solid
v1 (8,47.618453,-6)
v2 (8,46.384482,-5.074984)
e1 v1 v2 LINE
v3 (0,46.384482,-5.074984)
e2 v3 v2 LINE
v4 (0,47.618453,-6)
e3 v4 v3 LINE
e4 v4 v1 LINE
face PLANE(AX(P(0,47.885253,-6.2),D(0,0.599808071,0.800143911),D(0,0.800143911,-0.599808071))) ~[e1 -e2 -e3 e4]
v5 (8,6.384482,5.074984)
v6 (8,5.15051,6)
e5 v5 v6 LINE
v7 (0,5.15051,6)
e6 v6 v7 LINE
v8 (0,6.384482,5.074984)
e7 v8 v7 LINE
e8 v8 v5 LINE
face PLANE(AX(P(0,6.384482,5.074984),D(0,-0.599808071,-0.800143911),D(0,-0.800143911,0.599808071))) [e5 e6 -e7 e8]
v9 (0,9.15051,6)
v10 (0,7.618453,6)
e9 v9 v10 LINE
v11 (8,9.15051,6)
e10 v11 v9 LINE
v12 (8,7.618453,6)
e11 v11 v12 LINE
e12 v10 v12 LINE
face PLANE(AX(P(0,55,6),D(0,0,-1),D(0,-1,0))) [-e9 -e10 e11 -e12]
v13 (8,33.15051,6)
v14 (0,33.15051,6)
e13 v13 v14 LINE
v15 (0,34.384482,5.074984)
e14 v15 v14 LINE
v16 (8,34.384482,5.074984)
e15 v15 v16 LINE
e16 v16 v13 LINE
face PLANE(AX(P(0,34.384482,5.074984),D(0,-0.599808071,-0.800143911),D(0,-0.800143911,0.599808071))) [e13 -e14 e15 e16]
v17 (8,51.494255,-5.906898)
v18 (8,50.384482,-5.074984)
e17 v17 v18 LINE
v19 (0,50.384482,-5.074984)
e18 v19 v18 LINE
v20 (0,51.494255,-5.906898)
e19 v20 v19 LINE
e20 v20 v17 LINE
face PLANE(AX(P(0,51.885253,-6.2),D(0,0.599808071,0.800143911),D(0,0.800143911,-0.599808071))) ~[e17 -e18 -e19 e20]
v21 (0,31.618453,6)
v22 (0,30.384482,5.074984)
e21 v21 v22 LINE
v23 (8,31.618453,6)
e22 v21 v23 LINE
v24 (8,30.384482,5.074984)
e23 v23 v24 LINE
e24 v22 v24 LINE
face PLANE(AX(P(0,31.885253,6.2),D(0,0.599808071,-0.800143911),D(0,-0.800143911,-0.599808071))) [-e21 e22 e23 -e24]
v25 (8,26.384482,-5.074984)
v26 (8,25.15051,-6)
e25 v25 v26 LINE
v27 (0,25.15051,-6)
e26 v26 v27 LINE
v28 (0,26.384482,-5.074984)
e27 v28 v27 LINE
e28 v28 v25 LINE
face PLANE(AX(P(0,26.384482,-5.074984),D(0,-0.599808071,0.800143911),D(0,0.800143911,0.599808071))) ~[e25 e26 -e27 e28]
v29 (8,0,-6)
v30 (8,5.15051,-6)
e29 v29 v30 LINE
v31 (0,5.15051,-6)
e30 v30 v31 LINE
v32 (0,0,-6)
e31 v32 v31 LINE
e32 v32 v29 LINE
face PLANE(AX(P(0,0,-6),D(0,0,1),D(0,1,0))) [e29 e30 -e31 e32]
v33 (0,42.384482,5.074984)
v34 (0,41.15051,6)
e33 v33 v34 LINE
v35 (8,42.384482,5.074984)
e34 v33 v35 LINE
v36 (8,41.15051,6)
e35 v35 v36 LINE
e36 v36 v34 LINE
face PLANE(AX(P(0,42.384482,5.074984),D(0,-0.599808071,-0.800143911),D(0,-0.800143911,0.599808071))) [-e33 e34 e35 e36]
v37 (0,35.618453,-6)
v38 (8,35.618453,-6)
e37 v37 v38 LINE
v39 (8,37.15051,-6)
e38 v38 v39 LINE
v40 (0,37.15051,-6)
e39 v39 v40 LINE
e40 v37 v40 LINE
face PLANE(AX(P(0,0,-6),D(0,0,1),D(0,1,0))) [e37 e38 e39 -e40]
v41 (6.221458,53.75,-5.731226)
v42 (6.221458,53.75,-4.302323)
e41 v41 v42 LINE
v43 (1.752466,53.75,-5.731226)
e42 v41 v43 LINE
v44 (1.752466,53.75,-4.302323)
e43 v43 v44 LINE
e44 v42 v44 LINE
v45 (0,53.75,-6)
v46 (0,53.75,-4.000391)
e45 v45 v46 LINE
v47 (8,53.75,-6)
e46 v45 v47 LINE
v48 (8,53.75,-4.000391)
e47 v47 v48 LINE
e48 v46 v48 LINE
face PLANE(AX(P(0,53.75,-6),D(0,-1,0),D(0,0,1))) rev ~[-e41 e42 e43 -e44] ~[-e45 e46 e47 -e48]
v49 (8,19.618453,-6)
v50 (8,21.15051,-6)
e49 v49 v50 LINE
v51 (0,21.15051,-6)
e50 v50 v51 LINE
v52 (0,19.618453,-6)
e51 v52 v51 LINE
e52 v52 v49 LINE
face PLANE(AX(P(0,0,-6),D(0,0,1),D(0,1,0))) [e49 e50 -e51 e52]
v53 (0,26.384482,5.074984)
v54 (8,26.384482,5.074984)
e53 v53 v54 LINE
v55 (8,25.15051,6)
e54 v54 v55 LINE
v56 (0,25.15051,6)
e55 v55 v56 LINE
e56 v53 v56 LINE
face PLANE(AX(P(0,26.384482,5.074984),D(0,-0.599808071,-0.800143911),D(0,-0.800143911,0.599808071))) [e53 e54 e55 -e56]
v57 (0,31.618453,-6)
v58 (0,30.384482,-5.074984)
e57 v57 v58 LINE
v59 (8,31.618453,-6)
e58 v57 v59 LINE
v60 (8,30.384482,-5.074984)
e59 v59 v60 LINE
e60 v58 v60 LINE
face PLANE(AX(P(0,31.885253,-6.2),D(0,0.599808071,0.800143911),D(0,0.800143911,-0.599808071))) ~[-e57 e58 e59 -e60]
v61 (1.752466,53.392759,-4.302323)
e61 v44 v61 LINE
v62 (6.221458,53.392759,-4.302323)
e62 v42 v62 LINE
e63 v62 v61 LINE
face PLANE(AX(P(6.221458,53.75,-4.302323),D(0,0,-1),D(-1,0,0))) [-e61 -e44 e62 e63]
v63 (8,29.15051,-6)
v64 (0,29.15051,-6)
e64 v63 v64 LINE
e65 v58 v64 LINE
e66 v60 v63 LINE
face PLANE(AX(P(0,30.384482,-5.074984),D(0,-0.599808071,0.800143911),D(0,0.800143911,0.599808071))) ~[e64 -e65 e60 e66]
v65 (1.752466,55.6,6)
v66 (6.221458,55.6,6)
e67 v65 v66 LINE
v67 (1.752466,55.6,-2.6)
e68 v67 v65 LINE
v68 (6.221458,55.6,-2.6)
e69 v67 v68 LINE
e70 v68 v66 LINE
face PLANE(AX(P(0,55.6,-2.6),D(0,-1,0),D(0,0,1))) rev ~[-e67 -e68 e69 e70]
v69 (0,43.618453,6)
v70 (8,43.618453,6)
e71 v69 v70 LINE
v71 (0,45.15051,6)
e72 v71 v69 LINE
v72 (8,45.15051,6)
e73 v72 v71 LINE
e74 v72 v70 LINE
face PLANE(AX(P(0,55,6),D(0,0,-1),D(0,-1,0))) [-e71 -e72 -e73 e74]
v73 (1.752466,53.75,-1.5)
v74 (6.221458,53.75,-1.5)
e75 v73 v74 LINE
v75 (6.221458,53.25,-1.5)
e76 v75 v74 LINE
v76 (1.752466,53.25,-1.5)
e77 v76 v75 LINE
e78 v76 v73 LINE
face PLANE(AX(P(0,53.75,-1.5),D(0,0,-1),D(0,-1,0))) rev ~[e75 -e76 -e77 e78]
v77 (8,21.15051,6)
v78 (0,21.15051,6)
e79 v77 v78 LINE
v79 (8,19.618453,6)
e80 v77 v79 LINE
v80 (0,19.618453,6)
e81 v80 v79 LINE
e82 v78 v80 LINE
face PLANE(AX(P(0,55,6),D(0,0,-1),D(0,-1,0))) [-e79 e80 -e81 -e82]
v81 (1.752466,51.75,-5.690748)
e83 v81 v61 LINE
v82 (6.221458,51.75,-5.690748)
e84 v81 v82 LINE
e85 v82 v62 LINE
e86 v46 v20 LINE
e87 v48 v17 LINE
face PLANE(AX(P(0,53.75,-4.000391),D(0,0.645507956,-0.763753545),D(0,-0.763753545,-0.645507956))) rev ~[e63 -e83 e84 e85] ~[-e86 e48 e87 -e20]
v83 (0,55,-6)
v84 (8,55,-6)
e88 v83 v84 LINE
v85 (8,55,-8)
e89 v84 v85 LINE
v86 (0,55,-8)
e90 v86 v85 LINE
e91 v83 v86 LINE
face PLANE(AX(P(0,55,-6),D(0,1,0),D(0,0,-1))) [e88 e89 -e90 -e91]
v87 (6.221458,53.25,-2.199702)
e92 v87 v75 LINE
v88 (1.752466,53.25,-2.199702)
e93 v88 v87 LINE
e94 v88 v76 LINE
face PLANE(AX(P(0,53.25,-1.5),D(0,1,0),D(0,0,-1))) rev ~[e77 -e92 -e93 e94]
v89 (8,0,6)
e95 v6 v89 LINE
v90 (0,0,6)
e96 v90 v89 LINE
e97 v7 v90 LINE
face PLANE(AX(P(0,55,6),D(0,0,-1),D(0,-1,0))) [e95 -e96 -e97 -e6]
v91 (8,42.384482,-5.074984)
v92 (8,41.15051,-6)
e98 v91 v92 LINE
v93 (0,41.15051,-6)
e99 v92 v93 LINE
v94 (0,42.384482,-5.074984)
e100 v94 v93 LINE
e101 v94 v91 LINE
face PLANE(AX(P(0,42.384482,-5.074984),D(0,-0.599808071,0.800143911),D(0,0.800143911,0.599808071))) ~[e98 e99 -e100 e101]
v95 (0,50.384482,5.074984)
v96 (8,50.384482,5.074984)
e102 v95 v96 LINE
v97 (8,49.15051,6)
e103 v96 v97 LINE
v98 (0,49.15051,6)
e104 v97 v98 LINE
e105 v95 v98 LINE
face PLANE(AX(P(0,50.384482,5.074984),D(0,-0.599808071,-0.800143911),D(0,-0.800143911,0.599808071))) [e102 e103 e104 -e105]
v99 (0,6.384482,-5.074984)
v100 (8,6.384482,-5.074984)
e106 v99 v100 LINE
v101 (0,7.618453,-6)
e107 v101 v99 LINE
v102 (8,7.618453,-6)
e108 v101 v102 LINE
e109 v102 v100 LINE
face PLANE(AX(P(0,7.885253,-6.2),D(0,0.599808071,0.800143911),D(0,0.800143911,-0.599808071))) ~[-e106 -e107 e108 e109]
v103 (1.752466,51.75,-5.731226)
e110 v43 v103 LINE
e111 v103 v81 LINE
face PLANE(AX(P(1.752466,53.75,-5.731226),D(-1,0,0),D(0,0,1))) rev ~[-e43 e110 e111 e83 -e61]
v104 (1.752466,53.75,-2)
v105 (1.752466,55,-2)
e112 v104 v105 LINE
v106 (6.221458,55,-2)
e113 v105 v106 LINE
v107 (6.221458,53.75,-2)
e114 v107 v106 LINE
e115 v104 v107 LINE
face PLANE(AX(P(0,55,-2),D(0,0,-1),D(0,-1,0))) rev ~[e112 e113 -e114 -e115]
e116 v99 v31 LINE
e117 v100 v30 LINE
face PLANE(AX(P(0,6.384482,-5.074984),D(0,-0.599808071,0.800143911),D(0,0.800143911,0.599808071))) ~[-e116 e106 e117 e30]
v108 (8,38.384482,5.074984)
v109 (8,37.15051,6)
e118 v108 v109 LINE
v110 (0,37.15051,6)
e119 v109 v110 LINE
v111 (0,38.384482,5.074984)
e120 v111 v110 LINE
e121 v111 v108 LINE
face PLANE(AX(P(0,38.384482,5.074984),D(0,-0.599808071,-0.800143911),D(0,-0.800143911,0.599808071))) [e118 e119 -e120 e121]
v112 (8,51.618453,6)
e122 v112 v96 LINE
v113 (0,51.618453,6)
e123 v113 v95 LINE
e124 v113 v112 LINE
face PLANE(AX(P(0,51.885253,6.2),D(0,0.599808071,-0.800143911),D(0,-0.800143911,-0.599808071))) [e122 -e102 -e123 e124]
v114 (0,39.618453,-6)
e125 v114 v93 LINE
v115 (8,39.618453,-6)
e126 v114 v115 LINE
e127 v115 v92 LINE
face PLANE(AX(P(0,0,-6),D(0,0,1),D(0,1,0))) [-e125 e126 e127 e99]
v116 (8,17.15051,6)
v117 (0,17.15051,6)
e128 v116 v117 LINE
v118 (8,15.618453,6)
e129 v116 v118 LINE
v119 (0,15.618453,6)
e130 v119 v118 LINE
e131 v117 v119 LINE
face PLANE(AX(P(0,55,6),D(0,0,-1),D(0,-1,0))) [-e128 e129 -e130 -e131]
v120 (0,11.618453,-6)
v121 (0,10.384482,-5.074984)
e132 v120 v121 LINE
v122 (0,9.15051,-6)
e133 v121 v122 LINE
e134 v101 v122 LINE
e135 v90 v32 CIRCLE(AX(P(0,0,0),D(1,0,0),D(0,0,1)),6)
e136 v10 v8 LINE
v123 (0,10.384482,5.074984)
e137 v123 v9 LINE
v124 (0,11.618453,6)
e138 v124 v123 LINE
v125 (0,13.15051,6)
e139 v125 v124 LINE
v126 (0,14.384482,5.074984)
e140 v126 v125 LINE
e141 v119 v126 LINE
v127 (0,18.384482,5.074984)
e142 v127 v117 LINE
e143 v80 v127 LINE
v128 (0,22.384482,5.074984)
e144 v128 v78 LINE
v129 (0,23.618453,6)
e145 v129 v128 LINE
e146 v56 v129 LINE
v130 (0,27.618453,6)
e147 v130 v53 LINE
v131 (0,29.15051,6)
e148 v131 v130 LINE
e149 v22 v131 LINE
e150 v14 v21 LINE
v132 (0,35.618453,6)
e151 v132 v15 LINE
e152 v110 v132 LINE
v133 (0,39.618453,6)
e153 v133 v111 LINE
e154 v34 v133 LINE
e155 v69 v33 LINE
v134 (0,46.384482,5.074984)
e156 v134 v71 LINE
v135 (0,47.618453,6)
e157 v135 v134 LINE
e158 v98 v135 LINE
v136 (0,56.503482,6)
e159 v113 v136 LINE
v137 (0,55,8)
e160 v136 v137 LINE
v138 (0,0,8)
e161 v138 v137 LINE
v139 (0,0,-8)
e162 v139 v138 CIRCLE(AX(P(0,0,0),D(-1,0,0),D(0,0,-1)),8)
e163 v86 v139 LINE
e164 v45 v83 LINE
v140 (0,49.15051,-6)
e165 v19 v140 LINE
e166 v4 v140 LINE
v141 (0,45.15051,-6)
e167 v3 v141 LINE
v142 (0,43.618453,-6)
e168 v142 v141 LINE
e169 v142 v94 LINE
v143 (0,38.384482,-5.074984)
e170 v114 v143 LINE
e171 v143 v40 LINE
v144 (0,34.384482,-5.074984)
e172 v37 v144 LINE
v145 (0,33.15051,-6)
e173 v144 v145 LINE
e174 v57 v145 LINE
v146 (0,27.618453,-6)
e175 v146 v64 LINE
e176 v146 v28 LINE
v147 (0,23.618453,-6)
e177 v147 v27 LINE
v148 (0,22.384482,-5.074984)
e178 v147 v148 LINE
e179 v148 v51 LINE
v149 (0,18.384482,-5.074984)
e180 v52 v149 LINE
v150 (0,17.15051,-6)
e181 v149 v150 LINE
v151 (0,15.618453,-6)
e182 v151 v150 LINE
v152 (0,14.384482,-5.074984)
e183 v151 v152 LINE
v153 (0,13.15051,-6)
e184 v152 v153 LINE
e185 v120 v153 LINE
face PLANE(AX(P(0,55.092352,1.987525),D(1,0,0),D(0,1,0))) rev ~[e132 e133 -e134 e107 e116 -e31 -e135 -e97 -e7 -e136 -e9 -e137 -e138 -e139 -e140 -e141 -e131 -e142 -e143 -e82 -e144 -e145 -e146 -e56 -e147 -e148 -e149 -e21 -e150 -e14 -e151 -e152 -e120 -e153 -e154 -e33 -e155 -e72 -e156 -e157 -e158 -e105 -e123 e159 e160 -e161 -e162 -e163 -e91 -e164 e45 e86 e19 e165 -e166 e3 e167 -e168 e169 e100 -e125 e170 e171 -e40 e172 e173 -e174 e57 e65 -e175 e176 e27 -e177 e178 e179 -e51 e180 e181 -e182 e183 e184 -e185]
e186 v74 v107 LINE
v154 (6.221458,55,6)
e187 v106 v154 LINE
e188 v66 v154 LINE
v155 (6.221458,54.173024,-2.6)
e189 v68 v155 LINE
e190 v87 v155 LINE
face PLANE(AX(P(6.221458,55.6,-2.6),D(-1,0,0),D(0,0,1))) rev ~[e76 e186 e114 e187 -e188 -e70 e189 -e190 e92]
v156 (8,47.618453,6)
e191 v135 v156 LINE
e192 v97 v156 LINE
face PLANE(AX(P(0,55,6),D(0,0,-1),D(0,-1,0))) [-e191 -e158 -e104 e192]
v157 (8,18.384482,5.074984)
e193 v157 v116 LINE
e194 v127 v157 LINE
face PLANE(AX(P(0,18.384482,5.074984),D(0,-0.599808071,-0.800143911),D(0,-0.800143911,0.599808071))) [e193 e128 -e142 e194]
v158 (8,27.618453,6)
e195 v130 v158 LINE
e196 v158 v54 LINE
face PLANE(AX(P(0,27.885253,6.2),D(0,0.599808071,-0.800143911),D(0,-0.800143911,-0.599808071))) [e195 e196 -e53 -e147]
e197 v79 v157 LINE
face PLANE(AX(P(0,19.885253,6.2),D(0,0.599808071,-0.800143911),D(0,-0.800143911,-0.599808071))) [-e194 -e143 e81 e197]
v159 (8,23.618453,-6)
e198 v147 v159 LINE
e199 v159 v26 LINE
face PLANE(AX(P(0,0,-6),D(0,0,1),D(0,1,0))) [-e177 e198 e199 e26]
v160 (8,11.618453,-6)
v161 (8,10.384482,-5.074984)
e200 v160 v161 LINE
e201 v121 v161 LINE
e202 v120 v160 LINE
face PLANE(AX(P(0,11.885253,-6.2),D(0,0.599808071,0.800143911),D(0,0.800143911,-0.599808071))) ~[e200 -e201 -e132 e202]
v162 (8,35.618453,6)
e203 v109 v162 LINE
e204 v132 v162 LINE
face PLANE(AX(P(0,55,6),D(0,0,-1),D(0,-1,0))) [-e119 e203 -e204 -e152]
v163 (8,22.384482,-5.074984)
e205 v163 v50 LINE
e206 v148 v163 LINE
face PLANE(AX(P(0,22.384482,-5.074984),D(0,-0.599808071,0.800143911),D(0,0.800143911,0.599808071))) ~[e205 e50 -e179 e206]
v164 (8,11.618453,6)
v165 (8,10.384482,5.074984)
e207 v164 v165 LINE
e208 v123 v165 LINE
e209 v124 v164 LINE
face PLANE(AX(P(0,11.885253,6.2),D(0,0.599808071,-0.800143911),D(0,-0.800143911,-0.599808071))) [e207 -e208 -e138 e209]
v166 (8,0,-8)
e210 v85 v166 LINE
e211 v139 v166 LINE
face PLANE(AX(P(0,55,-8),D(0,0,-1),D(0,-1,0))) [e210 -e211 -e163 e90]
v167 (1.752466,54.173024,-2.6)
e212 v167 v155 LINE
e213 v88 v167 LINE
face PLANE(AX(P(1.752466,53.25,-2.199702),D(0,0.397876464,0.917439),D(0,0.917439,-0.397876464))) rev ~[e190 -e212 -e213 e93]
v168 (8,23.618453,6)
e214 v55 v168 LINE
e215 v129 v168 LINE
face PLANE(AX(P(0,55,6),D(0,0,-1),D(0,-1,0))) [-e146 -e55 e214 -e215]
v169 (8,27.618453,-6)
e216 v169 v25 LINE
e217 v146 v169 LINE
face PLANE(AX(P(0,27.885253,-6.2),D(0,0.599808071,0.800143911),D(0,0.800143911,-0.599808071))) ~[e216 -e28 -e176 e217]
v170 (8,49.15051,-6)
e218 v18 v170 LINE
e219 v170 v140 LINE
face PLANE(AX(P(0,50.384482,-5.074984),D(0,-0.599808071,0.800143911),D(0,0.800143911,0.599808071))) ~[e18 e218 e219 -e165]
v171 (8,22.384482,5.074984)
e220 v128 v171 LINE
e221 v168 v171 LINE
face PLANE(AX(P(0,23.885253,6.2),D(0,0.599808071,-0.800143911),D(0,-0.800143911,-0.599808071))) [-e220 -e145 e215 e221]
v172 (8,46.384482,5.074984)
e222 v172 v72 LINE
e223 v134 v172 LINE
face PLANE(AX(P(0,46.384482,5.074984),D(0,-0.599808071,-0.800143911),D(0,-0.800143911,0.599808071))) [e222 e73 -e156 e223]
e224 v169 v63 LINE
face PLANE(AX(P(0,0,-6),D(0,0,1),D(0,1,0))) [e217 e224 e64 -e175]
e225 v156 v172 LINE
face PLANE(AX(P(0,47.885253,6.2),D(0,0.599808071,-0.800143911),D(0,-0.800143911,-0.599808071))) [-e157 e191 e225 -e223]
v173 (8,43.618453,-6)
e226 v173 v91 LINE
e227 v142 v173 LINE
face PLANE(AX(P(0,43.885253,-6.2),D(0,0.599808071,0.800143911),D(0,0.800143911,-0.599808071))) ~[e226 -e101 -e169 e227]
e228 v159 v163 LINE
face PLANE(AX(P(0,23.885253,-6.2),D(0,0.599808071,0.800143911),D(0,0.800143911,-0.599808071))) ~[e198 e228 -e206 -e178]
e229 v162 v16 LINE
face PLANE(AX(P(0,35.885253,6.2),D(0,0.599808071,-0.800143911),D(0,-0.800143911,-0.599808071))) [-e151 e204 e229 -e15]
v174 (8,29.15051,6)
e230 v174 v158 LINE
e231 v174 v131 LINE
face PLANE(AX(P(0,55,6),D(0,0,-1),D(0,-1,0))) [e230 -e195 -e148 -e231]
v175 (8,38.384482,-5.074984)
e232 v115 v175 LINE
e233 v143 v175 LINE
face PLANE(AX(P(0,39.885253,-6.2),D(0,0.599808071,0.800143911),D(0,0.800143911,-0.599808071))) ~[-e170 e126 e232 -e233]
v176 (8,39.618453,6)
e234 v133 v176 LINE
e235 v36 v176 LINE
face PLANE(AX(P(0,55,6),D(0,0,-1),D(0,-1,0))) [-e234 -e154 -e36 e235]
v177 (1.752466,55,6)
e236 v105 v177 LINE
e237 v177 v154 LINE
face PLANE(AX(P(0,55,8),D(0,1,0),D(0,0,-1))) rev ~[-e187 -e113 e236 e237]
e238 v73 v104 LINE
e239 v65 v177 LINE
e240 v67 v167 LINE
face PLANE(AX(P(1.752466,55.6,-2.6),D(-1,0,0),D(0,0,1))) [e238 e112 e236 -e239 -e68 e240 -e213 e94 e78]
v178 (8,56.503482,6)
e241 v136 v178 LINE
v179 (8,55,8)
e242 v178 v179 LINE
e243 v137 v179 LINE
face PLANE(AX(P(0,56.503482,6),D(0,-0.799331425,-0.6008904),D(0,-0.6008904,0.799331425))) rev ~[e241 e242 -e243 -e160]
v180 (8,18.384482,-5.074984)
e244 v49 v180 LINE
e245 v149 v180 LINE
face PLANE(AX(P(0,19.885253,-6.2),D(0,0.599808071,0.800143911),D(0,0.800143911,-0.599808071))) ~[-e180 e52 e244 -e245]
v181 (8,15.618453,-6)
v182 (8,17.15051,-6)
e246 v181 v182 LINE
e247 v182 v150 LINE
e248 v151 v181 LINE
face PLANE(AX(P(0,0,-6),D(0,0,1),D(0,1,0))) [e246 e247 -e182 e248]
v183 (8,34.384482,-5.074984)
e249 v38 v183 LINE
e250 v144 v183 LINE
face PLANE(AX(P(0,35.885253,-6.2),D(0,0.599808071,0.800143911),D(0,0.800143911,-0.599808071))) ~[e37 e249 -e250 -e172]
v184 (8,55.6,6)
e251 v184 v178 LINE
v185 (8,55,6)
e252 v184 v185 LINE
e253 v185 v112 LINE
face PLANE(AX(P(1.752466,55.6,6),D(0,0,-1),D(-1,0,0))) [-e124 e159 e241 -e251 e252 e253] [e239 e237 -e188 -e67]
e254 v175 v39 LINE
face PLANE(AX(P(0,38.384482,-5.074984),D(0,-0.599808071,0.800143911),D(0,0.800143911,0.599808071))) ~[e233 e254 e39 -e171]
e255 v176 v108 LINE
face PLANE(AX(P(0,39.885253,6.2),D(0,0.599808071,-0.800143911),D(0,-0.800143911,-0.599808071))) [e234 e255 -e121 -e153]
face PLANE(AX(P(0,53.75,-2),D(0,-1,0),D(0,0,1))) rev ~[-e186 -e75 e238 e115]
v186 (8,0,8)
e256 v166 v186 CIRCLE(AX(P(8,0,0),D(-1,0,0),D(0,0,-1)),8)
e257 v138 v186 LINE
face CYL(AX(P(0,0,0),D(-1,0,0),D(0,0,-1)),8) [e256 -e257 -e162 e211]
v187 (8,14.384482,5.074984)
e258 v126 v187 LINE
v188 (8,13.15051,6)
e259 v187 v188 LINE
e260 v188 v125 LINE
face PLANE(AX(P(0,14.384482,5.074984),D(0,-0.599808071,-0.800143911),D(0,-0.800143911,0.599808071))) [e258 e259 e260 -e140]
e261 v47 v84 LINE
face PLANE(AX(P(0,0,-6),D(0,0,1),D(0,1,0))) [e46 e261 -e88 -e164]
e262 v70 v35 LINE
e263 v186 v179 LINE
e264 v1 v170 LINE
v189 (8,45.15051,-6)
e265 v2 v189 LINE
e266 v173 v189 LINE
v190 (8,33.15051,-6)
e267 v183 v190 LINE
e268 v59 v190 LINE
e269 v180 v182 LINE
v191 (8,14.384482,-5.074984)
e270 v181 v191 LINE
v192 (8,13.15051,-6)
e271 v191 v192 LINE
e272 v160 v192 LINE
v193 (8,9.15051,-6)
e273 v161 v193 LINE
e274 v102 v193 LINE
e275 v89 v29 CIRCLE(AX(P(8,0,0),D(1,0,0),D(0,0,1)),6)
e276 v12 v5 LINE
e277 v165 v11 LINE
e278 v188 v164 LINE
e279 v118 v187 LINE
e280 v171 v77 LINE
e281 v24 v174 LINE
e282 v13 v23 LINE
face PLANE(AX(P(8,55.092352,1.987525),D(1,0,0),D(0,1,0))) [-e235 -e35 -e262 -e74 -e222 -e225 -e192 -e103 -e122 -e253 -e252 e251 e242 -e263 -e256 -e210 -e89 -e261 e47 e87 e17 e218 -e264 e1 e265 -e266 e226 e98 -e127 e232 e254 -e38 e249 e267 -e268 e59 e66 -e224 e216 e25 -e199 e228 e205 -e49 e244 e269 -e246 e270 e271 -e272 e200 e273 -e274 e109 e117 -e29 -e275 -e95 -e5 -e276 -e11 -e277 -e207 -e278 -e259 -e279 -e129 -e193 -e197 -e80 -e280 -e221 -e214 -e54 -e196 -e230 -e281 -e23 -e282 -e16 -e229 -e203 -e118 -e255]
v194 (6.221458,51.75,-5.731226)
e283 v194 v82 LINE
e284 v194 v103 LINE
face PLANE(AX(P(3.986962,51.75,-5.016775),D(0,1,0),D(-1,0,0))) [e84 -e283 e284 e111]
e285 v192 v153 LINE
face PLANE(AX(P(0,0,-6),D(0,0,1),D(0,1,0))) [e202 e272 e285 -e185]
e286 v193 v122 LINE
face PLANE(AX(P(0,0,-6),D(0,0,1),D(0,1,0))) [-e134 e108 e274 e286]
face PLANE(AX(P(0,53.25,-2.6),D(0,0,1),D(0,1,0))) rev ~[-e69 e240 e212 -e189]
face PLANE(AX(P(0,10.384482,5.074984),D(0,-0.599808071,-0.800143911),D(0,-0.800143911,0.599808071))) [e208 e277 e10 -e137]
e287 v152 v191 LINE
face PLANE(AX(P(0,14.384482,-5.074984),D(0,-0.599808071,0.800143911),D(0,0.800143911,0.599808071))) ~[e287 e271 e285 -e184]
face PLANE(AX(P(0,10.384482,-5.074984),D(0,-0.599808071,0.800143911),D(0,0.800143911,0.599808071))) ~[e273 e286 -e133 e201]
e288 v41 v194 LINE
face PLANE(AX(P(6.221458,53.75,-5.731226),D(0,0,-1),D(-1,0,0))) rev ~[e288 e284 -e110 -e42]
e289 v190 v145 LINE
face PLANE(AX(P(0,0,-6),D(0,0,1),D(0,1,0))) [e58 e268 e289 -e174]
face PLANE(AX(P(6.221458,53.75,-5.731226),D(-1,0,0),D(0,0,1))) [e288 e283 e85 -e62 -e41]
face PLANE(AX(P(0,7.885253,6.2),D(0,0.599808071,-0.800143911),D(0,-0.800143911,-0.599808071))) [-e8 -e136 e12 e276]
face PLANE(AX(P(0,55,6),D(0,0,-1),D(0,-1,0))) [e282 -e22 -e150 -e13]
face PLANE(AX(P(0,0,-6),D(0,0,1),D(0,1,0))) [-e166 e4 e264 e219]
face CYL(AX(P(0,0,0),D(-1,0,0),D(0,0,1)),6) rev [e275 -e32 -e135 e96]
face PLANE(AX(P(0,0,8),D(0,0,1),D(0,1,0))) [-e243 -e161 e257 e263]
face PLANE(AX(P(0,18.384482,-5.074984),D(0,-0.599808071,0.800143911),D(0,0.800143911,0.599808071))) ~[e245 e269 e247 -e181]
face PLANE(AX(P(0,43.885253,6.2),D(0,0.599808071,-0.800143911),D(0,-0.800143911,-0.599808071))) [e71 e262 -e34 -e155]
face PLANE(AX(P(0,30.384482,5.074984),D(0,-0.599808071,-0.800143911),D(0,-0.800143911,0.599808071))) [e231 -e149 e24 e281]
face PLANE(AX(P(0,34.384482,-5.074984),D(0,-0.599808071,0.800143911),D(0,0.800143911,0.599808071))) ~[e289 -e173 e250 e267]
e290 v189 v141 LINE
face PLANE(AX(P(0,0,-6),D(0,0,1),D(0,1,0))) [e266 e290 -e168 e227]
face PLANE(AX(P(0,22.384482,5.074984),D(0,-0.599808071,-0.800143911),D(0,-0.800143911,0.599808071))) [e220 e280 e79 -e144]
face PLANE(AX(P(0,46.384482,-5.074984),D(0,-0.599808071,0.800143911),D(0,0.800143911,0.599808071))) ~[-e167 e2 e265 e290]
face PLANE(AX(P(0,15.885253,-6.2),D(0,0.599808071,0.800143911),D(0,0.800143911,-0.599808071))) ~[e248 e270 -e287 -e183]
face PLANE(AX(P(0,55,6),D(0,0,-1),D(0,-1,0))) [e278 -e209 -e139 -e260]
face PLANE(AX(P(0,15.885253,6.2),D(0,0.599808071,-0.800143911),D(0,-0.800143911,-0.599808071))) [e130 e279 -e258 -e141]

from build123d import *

# Parameters (mm, degrees)
BOSS_EXTRUDE1_DEPTH = 8
BOSS_EXTRUDE2_DEPTH = 8
BOSS_EXTRUDE4_DEPTH = 8
SKETCH10_W          = 4.468992015
SKETCH10_H          = 1.428902643
CUT_EXTRUDE2_DEPTH  = 2
SKETCH11_W          = 1.778541799
SKETCH11_H          = 8.6
SKETCH11_W_2        = 1.752466186
CUT_EXTRUDE4_DEPTH  = 2.5
CUT_EXTRUDE6_DEPTH  = 14.47


with BuildPart() as part:
    # Sketch2 → Boss-Extrude1 (new body)
    with BuildSketch(Plane.YZ):
        with BuildLine():
            Line((55, 6), (0, 6))
            ThreePointArc((0, 6), (-6, 0), (0, -6))
            Line((0, -6), (55, -6))
            Line((55, -6), (55, -8))
            Line((55, -8), (0, -8))
            ThreePointArc((0, -8), (-8, 0), (0, 8))
            Line((0, 8), (55, 8))
            Line((55, 8), (55, 6))
        make_face()
    extrude(amount=BOSS_EXTRUDE1_DEPTH)

    # Sketch8 → Boss-Extrude2 (add)
    with BuildSketch(Plane.YZ):
        Polygon((8.883709987, 6.2), (11.885253021, 6.2), (10.384481504, 5.074983791), align=None)
        Polygon((4.883709987, 6.2), (7.885253021, 6.2), (6.384481504, 5.074983791), align=None)
        Polygon((12.883709987, 6.2), (15.885253021, 6.2), (14.384481504, 5.074983791), align=None)
        Polygon((16.883709987, 6.2), (19.885253021, 6.2), (18.384481504, 5.074983791), align=None)
        Polygon((20.883709987, 6.2), (23.885253021, 6.2), (22.384481504, 5.074983791), align=None)
        Polygon((24.883709987, 6.2), (27.885253021, 6.2), (26.384481504, 5.074983791), align=None)
        Polygon((28.883709987, 6.2), (31.885253021, 6.2), (30.384481504, 5.074983791), align=None)
        Polygon((32.883709987, 6.2), (35.885253021, 6.2), (34.384481504, 5.074983791), align=None)
        Polygon((36.883709987, 6.2), (39.885253021, 6.2), (38.384481504, 5.074983791), align=None)
        Polygon((40.883709987, 6.2), (43.885253021, 6.2), (42.384481504, 5.074983791), align=None)
        Polygon((44.883709987, 6.2), (47.885253021, 6.2), (46.384481504, 5.074983791), align=None)
        Polygon((48.883709987, 6.2), (51.885253021, 6.2), (50.384481504, 5.074983791), align=None)
    boss_extrude2 = extrude(amount=BOSS_EXTRUDE2_DEPTH)

    # Mirror1: Boss-Extrude2 across plane
    add(boss_extrude2.mirror(Plane.XY))

    # Sketch9 → Boss-Extrude4 (add)
    with BuildSketch(Plane.YZ):
        Polygon((55, 6), (55, -2), (53.75, -2), (53.75, -1.5), (53.25, -1.5), (53.25, -2), (53.25, -2.6), (55.6, -2.6), (55.6, 6), (56.503482489, 6), (55, 8), align=None)
        Polygon((53.75, -4.000391414), (51.384098648, -6), (53.75, -6), align=None)
    extrude(amount=BOSS_EXTRUDE4_DEPTH)

    # Sketch10 → Cut-Extrude2 (cut)
    with BuildSketch(Plane(origin=(0, 53.75, 0), x_dir=(-1, 0, 0), z_dir=(0, 1, 0))):
        with Locations((-3.986962194, -5.0167747)):
            Rectangle(SKETCH10_W, SKETCH10_H)
    extrude(amount=-CUT_EXTRUDE2_DEPTH, mode=Mode.SUBTRACT)

    # Sketch11 → Cut-Extrude4 (cut)
    with BuildSketch(Plane(origin=(0, 55.6, 0), x_dir=(-1, 0, 0), z_dir=(0, 1, 0))):
        with Locations((-7.110729101, 1.7)):
            Rectangle(SKETCH11_W, SKETCH11_H)
        with Locations((-0.876233093, 1.7)):
            Rectangle(SKETCH11_W_2, SKETCH11_H)
    extrude(amount=-CUT_EXTRUDE4_DEPTH, mode=Mode.SUBTRACT)

    # Sketch12 → Cut-Extrude6 (cut)
    with BuildSketch(Plane(origin=(1.752466186, 0, 0), x_dir=(0, -1, 0), z_dir=(-1, 0, 0))):
        Polygon((-53.25, -2.6), (-53.25, -2.199701503), (-54.173023817, -2.6), (-53.75, -2.6), align=None)
    extrude(amount=-CUT_EXTRUDE6_DEPTH, mode=Mode.SUBTRACT)


solid = part.part
